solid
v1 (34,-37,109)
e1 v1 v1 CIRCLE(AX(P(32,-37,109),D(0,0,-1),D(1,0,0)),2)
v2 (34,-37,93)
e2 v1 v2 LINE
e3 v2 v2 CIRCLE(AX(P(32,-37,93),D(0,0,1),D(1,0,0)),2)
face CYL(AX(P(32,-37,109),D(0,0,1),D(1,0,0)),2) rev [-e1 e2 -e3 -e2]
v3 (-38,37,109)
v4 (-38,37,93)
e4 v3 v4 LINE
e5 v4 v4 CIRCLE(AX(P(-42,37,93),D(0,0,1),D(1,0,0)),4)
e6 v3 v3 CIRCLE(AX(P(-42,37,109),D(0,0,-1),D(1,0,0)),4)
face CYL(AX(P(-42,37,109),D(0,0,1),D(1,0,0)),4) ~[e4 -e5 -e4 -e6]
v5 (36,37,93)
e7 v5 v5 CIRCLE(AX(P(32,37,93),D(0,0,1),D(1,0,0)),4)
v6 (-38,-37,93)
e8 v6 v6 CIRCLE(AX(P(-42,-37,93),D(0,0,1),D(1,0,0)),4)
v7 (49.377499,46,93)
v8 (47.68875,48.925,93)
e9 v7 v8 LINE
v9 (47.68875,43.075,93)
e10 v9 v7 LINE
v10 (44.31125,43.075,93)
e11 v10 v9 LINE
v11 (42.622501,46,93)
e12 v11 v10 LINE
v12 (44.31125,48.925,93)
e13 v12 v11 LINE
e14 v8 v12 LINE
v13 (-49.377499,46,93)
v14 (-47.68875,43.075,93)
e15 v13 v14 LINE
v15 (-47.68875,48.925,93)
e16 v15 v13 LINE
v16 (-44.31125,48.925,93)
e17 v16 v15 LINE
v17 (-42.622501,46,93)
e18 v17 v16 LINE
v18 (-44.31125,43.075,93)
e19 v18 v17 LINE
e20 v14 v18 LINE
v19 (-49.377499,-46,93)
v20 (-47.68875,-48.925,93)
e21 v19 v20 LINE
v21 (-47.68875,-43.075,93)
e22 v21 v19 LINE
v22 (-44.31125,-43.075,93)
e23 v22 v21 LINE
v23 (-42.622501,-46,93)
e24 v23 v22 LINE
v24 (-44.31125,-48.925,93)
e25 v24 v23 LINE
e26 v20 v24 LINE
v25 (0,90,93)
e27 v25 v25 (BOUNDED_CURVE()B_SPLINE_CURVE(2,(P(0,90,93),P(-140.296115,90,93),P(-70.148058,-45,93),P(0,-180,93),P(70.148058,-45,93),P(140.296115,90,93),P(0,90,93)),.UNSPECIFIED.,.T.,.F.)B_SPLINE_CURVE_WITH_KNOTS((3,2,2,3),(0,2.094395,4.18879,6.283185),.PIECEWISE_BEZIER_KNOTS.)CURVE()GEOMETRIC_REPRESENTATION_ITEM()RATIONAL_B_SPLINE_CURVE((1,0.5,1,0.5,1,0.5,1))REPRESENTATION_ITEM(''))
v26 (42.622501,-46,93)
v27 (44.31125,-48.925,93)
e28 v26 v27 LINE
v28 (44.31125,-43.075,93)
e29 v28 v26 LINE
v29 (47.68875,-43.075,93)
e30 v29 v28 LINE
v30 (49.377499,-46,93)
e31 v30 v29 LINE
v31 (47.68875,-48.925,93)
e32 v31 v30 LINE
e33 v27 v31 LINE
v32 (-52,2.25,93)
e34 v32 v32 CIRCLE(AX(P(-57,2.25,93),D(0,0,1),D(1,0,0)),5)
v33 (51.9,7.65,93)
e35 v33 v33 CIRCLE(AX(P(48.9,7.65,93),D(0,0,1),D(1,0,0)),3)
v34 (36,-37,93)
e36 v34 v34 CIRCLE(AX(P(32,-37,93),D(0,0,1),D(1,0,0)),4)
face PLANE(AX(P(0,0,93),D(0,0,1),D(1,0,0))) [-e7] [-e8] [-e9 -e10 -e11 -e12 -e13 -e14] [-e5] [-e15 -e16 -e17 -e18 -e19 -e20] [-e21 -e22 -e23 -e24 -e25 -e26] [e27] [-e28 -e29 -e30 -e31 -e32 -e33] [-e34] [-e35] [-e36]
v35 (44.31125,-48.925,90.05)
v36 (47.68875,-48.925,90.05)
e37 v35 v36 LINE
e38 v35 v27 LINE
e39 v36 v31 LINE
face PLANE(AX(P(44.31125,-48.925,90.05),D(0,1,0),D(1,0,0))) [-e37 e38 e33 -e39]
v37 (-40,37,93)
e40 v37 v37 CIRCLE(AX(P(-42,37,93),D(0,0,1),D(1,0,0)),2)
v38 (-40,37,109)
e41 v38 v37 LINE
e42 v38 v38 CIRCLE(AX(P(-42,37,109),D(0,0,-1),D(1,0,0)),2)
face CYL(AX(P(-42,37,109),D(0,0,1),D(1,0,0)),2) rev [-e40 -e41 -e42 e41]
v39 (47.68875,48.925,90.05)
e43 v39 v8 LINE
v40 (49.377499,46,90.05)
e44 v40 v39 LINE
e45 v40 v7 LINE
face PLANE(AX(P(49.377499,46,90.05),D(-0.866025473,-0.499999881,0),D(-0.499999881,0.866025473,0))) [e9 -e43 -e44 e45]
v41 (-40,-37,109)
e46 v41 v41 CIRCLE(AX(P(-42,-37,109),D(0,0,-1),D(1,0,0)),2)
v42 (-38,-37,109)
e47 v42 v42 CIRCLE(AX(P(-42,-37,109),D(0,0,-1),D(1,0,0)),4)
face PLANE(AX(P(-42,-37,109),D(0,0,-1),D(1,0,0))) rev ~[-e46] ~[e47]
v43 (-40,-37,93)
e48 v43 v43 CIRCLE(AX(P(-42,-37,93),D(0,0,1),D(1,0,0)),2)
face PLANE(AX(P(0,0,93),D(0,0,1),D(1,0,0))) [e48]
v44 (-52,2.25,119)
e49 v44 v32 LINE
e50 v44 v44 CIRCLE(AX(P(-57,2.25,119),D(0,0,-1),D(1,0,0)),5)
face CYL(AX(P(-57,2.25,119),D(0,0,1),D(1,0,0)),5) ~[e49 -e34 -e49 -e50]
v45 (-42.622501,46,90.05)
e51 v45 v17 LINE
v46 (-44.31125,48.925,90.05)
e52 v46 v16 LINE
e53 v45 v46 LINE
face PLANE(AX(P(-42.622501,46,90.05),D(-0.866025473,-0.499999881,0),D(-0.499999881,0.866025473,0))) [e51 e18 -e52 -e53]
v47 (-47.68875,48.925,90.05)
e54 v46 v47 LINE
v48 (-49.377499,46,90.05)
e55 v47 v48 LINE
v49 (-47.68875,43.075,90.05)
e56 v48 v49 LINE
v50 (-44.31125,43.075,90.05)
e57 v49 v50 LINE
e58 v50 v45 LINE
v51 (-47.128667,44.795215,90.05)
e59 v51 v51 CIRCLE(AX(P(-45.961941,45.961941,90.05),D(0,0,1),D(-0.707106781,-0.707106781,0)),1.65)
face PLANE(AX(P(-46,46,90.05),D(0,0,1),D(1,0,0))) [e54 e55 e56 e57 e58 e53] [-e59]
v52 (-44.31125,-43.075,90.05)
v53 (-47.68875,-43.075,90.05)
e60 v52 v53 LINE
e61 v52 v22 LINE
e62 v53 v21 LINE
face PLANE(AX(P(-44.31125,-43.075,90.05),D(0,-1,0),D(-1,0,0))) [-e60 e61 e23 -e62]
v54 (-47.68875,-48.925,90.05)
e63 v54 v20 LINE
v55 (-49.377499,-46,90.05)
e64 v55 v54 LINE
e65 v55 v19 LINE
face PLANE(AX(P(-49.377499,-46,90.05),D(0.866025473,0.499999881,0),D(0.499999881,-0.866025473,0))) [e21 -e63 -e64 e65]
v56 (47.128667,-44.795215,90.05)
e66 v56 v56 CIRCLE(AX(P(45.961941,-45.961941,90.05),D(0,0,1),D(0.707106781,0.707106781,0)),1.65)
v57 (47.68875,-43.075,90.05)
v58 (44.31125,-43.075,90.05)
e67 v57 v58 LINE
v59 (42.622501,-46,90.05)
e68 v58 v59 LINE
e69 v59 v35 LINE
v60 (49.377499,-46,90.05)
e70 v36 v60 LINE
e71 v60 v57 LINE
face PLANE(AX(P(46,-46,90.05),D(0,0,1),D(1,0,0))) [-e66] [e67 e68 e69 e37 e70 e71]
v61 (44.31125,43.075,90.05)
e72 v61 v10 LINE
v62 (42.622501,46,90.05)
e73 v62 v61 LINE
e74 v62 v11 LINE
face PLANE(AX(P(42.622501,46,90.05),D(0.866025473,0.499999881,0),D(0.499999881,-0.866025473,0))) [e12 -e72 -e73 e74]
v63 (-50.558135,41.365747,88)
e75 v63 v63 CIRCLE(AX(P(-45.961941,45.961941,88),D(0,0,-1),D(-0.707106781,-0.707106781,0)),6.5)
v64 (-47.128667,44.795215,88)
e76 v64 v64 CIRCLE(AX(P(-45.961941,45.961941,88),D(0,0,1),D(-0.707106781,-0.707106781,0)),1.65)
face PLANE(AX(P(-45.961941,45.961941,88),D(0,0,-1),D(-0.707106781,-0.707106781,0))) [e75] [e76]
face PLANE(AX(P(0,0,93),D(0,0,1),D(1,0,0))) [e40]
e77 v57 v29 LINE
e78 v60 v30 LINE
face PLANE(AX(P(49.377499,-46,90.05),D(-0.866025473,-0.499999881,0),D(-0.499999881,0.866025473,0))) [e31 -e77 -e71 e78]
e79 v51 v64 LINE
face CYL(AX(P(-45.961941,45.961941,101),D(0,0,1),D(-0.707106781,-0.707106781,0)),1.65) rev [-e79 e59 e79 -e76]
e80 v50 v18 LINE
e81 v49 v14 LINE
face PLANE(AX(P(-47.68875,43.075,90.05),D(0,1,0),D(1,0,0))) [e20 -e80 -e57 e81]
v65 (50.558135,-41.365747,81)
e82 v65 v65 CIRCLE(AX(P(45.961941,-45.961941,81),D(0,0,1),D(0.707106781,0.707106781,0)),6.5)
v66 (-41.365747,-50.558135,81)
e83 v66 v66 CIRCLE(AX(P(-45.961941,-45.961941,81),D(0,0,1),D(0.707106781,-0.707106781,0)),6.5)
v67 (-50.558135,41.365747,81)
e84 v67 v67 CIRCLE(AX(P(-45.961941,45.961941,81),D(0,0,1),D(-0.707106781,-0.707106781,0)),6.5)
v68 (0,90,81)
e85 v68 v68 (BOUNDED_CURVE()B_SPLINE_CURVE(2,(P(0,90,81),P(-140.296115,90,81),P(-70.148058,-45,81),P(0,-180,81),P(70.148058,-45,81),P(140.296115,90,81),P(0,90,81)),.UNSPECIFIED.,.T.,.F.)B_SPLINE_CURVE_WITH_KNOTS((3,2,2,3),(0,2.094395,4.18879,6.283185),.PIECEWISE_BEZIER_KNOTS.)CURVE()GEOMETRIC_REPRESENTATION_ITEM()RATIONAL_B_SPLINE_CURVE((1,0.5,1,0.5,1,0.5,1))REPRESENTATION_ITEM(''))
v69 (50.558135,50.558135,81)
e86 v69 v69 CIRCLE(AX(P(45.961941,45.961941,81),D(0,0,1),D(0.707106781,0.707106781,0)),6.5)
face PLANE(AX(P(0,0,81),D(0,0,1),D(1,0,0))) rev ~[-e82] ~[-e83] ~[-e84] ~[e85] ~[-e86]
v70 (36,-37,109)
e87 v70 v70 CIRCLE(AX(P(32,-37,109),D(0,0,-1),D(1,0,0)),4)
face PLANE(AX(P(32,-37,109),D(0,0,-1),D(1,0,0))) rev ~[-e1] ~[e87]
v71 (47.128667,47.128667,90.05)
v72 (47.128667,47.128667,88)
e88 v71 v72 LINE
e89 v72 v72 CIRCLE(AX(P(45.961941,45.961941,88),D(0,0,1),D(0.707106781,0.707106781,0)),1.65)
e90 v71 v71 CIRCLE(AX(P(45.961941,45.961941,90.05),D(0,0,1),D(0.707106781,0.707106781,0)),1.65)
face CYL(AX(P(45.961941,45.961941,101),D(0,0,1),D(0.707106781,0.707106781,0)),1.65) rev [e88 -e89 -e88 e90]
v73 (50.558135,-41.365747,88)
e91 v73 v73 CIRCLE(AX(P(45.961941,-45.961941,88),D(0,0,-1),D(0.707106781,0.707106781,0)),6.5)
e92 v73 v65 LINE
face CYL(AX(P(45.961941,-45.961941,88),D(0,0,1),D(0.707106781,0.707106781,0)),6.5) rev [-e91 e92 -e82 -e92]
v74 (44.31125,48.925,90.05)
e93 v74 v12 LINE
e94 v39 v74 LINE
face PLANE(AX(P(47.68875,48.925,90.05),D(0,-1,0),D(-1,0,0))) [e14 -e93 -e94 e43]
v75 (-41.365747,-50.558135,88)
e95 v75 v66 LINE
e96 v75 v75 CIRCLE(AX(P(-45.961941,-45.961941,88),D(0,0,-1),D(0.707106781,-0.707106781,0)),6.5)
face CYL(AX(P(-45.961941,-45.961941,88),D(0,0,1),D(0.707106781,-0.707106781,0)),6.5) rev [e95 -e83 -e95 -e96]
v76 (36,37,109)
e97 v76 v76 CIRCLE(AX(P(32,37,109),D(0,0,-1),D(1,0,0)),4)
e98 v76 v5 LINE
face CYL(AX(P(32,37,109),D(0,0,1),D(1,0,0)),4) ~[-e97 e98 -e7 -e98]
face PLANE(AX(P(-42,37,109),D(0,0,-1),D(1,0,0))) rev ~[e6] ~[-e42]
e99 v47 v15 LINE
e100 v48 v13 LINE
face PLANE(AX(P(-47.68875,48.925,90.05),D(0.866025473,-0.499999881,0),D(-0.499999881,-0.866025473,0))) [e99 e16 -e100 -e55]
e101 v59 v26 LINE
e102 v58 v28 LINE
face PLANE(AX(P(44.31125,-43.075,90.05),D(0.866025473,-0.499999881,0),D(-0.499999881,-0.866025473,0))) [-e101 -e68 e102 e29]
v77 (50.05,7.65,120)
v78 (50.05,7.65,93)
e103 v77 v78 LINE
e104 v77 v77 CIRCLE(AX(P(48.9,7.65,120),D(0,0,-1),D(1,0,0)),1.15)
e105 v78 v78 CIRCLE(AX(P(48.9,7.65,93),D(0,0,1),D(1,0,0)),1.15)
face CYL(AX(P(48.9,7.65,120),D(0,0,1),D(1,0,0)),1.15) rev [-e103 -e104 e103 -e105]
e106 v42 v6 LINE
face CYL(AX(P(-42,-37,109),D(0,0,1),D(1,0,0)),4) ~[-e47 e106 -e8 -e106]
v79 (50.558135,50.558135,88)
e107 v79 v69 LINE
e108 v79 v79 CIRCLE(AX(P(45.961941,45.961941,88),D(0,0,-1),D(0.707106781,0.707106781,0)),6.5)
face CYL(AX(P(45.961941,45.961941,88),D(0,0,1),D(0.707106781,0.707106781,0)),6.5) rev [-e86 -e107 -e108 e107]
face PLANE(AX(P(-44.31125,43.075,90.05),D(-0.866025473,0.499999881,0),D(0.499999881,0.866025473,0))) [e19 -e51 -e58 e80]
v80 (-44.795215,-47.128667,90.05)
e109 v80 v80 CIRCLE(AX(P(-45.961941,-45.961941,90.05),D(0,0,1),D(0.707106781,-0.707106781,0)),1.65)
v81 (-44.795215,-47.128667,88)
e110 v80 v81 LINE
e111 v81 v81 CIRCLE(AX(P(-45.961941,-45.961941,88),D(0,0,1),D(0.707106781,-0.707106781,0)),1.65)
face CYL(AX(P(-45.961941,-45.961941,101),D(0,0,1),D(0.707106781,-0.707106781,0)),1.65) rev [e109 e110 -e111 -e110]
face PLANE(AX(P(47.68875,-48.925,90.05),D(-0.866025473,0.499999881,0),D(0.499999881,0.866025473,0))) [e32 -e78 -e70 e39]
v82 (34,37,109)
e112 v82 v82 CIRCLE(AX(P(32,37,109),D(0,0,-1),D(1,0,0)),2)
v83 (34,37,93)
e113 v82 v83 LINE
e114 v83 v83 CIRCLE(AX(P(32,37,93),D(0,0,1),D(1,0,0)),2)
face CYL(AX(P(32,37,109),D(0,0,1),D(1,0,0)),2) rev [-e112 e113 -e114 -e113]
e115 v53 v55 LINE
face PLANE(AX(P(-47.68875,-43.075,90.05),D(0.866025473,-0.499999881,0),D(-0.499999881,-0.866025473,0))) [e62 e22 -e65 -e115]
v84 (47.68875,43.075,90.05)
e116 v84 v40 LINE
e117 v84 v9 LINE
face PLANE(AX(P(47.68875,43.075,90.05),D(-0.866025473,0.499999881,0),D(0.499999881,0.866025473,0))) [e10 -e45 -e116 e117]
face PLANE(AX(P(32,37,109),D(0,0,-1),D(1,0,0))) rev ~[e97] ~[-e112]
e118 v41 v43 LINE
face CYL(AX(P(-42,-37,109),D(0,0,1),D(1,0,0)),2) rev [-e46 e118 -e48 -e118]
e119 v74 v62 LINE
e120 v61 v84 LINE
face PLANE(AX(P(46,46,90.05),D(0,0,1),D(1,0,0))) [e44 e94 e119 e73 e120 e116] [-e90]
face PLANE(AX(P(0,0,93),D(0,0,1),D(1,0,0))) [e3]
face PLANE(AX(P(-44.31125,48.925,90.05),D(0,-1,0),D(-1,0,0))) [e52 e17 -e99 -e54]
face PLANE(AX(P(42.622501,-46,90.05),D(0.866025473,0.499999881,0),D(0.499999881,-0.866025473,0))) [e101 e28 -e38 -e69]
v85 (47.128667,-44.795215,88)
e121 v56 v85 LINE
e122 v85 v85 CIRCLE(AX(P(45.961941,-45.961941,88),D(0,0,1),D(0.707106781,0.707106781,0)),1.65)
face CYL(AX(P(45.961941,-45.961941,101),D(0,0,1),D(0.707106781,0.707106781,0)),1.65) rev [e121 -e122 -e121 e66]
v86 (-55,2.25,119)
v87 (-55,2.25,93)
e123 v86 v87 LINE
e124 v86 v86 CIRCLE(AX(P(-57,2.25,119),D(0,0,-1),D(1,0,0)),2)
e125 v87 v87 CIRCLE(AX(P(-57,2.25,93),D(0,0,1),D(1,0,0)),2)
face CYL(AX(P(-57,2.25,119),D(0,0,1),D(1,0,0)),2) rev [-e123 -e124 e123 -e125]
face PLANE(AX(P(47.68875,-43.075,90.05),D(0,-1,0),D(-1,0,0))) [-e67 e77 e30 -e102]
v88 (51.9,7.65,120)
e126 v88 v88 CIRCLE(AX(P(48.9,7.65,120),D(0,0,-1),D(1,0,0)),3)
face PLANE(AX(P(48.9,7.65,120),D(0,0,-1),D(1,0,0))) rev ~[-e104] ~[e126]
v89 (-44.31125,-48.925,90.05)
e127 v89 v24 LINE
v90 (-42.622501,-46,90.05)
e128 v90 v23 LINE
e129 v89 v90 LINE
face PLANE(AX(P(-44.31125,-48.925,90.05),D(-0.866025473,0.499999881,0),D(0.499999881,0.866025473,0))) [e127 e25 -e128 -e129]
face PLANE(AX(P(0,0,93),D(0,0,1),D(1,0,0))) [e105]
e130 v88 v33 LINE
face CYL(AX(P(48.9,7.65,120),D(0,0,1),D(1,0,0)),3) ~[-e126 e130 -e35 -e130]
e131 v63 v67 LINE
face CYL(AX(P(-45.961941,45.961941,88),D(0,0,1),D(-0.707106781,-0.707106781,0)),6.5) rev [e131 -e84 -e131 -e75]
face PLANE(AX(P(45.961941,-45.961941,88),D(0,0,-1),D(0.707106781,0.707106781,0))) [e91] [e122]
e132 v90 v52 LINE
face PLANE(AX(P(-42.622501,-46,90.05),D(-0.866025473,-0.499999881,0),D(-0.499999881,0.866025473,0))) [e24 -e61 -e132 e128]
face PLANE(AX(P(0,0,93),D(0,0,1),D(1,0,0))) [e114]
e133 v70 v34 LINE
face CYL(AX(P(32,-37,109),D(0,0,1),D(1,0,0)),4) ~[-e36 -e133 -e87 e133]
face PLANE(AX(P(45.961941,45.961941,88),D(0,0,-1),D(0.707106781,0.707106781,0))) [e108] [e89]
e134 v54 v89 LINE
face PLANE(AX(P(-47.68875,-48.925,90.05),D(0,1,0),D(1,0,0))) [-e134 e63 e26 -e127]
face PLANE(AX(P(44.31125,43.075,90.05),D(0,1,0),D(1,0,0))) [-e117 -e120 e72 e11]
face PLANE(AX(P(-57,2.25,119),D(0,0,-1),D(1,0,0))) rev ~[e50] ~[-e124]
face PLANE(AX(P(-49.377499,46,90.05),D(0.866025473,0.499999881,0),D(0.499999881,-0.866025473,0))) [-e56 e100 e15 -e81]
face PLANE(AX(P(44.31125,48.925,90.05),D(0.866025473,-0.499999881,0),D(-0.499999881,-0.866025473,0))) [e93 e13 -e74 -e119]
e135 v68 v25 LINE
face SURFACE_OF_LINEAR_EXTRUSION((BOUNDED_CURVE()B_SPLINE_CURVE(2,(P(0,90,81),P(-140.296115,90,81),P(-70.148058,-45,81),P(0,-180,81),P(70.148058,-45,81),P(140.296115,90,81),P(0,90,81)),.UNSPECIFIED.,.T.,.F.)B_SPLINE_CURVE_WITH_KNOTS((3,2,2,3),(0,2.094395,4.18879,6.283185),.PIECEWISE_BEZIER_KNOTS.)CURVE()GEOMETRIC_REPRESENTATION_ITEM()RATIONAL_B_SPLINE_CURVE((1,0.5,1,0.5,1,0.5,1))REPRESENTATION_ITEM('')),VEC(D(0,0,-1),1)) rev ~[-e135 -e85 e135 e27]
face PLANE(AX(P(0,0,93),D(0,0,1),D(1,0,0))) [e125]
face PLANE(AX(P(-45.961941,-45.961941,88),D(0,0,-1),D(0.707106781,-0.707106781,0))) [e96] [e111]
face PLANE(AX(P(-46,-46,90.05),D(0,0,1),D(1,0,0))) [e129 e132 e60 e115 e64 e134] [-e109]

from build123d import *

# Parameters (mm, degrees)
EXTRUDE010_DEPTH            = 2.95
CYLINDER026_R               = 6.5
CYLINDER026_DEPTH           = 12.5
CYLINDER026_ROLL_ANGLE      = 90
CYLINDER026_PITCH_ANGLE     = -45
CYLINDER027_R               = 6.5
CYLINDER027_DEPTH           = 12.5
CYLINDER027_ROLL_ANGLE      = 90
CYLINDER027_PITCH_ANGLE     = 45
CYLINDER028_R               = 6.5
CYLINDER028_DEPTH           = 12.5
CYLINDER028_ROLL_ANGLE      = -90
CYLINDER028_PITCH_ANGLE     = -45
CYLINDER028_PLACEMENT_ANGLE = 180
CYLINDER025_R               = 6.5
CYLINDER025_DEPTH           = 12.5
CYLINDER025_ROLL_ANGLE      = 90
CYLINDER025_PITCH_ANGLE     = 45
FUSION191_PLACEMENT_ANGLE   = 90
CYLINDER022_R               = 1.65
CYLINDER022_DEPTH           = 20
CYLINDER022_ROLL_ANGLE      = 90
CYLINDER022_PITCH_ANGLE     = -45
CYLINDER023_R               = 1.65
CYLINDER023_DEPTH           = 20
CYLINDER023_ROLL_ANGLE      = 90
CYLINDER023_PITCH_ANGLE     = 45
CYLINDER024_R               = 1.65
CYLINDER024_DEPTH           = 20
CYLINDER024_ROLL_ANGLE      = -90
CYLINDER024_PITCH_ANGLE     = -45
CYLINDER024_PLACEMENT_ANGLE = 180
CYLINDER021_R               = 1.65
CYLINDER021_DEPTH           = 20
CYLINDER021_ROLL_ANGLE      = 90
CYLINDER021_PITCH_ANGLE     = 45
FUSION190_PLACEMENT_ANGLE   = 90
TUBE012_R                   = 5
TUBE012_R_2                 = 2
TUBE012_DEPTH               = 29
TUBE013_R                   = 3
TUBE013_R_2                 = 1.15
TUBE013_DEPTH               = 30
TUBE009_R                   = 4
TUBE009_R_2                 = 2
TUBE009_DEPTH               = 19
TUBE010_R                   = 4
TUBE010_R_2                 = 2
TUBE010_DEPTH               = 19
TUBE011_R                   = 4
TUBE011_R_2                 = 2
TUBE011_DEPTH               = 19
TUBE008_R                   = 4
TUBE008_R_2                 = 2
TUBE008_DEPTH               = 19
COMPOUND_PLACEMENT_ANGLE    = 270
EXTRUDE003_DEPTH            = 12


with BuildPart() as m3nytcut:
    # Sketch010 (on Fillet) → Extrude010 (new body)
    with BuildSketch(Plane.XY):
        Polygon((-44.31125, 43.075), (-42.622501, 46), (-44.31125, 48.925), (-47.68875, 48.925), (-49.377499, 46), (-47.68875, 43.075), align=None)
        Polygon((47.68875, 43.075), (49.377499, 46), (47.68875, 48.925), (44.31125, 48.925), (42.622501, 46), (44.31125, 43.075), align=None)
        Polygon((47.68875, -48.925), (49.377499, -46), (47.68875, -43.075), (44.31125, -43.075), (42.622501, -46), (44.31125, -48.925), align=None)
        Polygon((-44.31125, -48.925), (-42.622501, -46), (-44.31125, -43.075), (-47.68875, -43.075), (-49.377499, -46), (-47.68875, -48.925), align=None)
    extrude(amount=EXTRUDE010_DEPTH)


with BuildPart() as m3nytcut_1:
    # Extrude010 placement: moved
    add(m3nytcut.part.moved(Location((0, 0, 90.05))))


with BuildPart() as cylinder026:
    # Cylinder026 → Cylinder026 (new body)
    with BuildSketch(Plane.XY):
        Circle(CYLINDER026_R)
    extrude(amount=CYLINDER026_DEPTH)


with BuildPart() as cylinder026_1:
    # Cylinder026 roll: moved
    add(cylinder026.part.rotate(Axis((0, 0, 0), (1, 0, 0)), CYLINDER026_ROLL_ANGLE))


with BuildPart() as cylinder026_2:
    # Cylinder026 pitch: moved
    add(cylinder026_1.part.rotate(Axis((0, 0, 0), (0, 1, 0)), CYLINDER026_PITCH_ANGLE))


with BuildPart() as cylinder026_3:
    # Cylinder026 placement: moved
    add(cylinder026_2.part.moved(Location((-45.961941, 57, 45.961941))))


with BuildPart() as cylinder027:
    # Cylinder027 → Cylinder027 (new body)
    with BuildSketch(Plane.XY):
        Circle(CYLINDER027_R)
    extrude(amount=CYLINDER027_DEPTH)


with BuildPart() as cylinder027_1:
    # Cylinder027 roll: moved
    add(cylinder027.part.rotate(Axis((0, 0, 0), (1, 0, 0)), CYLINDER027_ROLL_ANGLE))


with BuildPart() as cylinder027_2:
    # Cylinder027 pitch: moved
    add(cylinder027_1.part.rotate(Axis((0, 0, 0), (0, 1, 0)), CYLINDER027_PITCH_ANGLE))


with BuildPart() as cylinder027_3:
    # Cylinder027 placement: moved
    add(cylinder027_2.part.moved(Location((45.961941, 57, -45.961941))))


with BuildPart() as cylinder028:
    # Cylinder028 → Cylinder028 (new body)
    with BuildSketch(Plane.XY):
        Circle(CYLINDER028_R)
    extrude(amount=CYLINDER028_DEPTH)


with BuildPart() as cylinder028_1:
    # Cylinder028 roll: moved
    add(cylinder028.part.rotate(Axis((0, 0, 0), (1, 0, 0)), CYLINDER028_ROLL_ANGLE))


with BuildPart() as cylinder028_2:
    # Cylinder028 pitch: moved
    add(cylinder028_1.part.rotate(Axis((0, 0, 0), (0, 1, 0)), CYLINDER028_PITCH_ANGLE))


with BuildPart() as cylinder028_3:
    # Cylinder028 placement: moved
    add(cylinder028_2.part.moved(Location((-45.961941, 57, -45.961941))).rotate(Axis((-45.961941, 57, -45.961941), (0, 0, 1)), CYLINDER028_PLACEMENT_ANGLE))


with BuildPart() as m3head001:
    # Cylinder025 → Cylinder025 (new body)
    with BuildSketch(Plane.XY):
        Circle(CYLINDER025_R)
    extrude(amount=CYLINDER025_DEPTH)


with BuildPart() as m3head001_1:
    # Cylinder025 roll: moved
    add(m3head001.part.rotate(Axis((0, 0, 0), (1, 0, 0)), CYLINDER025_ROLL_ANGLE))


with BuildPart() as m3head001_2:
    # Cylinder025 pitch: moved
    add(m3head001_1.part.rotate(Axis((0, 0, 0), (0, 1, 0)), CYLINDER025_PITCH_ANGLE))


with BuildPart() as m3head001_3:
    # Cylinder025 placement: moved
    add(m3head001_2.part.moved(Location((45.961941, 57, 45.961941))))

    # Fusion191: union Cylinder026, Cylinder027, Cylinder028
    add(cylinder026_3.part)
    add(cylinder027_3.part)
    add(cylinder028_3.part)


with BuildPart() as m3head001_4:
    # Fusion191 placement: moved
    add(m3head001_3.part.moved(Location((0, 0, 23))).rotate(Axis((0, 0, 23), (1, 0, 0)), FUSION191_PLACEMENT_ANGLE))


with BuildPart() as cylinder022:
    # Cylinder022 → Cylinder022 (new body)
    with BuildSketch(Plane.XY):
        Circle(CYLINDER022_R)
    extrude(amount=CYLINDER022_DEPTH)


with BuildPart() as cylinder022_1:
    # Cylinder022 roll: moved
    add(cylinder022.part.rotate(Axis((0, 0, 0), (1, 0, 0)), CYLINDER022_ROLL_ANGLE))


with BuildPart() as cylinder022_2:
    # Cylinder022 pitch: moved
    add(cylinder022_1.part.rotate(Axis((0, 0, 0), (0, 1, 0)), CYLINDER022_PITCH_ANGLE))


with BuildPart() as cylinder022_3:
    # Cylinder022 placement: moved
    add(cylinder022_2.part.moved(Location((-45.961941, 57, 45.961941))))


with BuildPart() as cylinder023:
    # Cylinder023 → Cylinder023 (new body)
    with BuildSketch(Plane.XY):
        Circle(CYLINDER023_R)
    extrude(amount=CYLINDER023_DEPTH)


with BuildPart() as cylinder023_1:
    # Cylinder023 roll: moved
    add(cylinder023.part.rotate(Axis((0, 0, 0), (1, 0, 0)), CYLINDER023_ROLL_ANGLE))


with BuildPart() as cylinder023_2:
    # Cylinder023 pitch: moved
    add(cylinder023_1.part.rotate(Axis((0, 0, 0), (0, 1, 0)), CYLINDER023_PITCH_ANGLE))


with BuildPart() as cylinder023_3:
    # Cylinder023 placement: moved
    add(cylinder023_2.part.moved(Location((45.961941, 57, -45.961941))))


with BuildPart() as cylinder024:
    # Cylinder024 → Cylinder024 (new body)
    with BuildSketch(Plane.XY):
        Circle(CYLINDER024_R)
    extrude(amount=CYLINDER024_DEPTH)


with BuildPart() as cylinder024_1:
    # Cylinder024 roll: moved
    add(cylinder024.part.rotate(Axis((0, 0, 0), (1, 0, 0)), CYLINDER024_ROLL_ANGLE))


with BuildPart() as cylinder024_2:
    # Cylinder024 pitch: moved
    add(cylinder024_1.part.rotate(Axis((0, 0, 0), (0, 1, 0)), CYLINDER024_PITCH_ANGLE))


with BuildPart() as cylinder024_3:
    # Cylinder024 placement: moved
    add(cylinder024_2.part.moved(Location((-45.961941, 57, -45.961941))).rotate(Axis((-45.961941, 57, -45.961941), (0, 0, 1)), CYLINDER024_PLACEMENT_ANGLE))


with BuildPart() as topbasem3:
    # Cylinder021 → Cylinder021 (new body)
    with BuildSketch(Plane.XY):
        Circle(CYLINDER021_R)
    extrude(amount=CYLINDER021_DEPTH)


with BuildPart() as topbasem3_1:
    # Cylinder021 roll: moved
    add(topbasem3.part.rotate(Axis((0, 0, 0), (1, 0, 0)), CYLINDER021_ROLL_ANGLE))


with BuildPart() as topbasem3_2:
    # Cylinder021 pitch: moved
    add(topbasem3_1.part.rotate(Axis((0, 0, 0), (0, 1, 0)), CYLINDER021_PITCH_ANGLE))


with BuildPart() as topbasem3_3:
    # Cylinder021 placement: moved
    add(topbasem3_2.part.moved(Location((45.961941, 57, 45.961941))))

    # Fusion190: union Cylinder022, Cylinder023, Cylinder024
    add(cylinder022_3.part)
    add(cylinder023_3.part)
    add(cylinder024_3.part)


with BuildPart() as topbasem3_4:
    # Fusion190 placement: moved
    add(topbasem3_3.part.moved(Location((0, 0, 36))).rotate(Axis((0, 0, 36), (1, 0, 0)), FUSION190_PLACEMENT_ANGLE))

    # Fusion192: union m3Head001
    add(m3head001_4.part)


with BuildPart() as topbasem3_5:
    # Fusion192 placement: moved
    add(topbasem3_4.part.moved(Location((0, 0, 8))))


with BuildPart() as m3_cozir:
    # Tube012 → Tube012 (new body)
    with BuildSketch(Plane(origin=(-52, 9, 2.25), x_dir=(1, 0, 0), z_dir=(0, 1, 0))):
        Circle(TUBE012_R)
        Circle(TUBE012_R_2, mode=Mode.SUBTRACT)
    extrude(amount=TUBE012_DEPTH)


with BuildPart() as m2_ips7100:
    # Tube013 → Tube013 (new body)
    with BuildSketch(Plane(origin=(53.9, 8, 7.65), x_dir=(1, 0, 0), z_dir=(0, 1, 0))):
        Circle(TUBE013_R)
        Circle(TUBE013_R_2, mode=Mode.SUBTRACT)
    extrude(amount=TUBE013_DEPTH)


with BuildPart() as tube009:
    # Tube009 → Tube009 (new body)
    with BuildSketch(Plane(origin=(-37, 19, 37), x_dir=(1, 0, 0), z_dir=(0, 1, 0))):
        Circle(TUBE009_R)
        Circle(TUBE009_R_2, mode=Mode.SUBTRACT)
    extrude(amount=TUBE009_DEPTH)


with BuildPart() as tube010:
    # Tube010 → Tube010 (new body)
    with BuildSketch(Plane(origin=(37, 19, 37), x_dir=(1, 0, 0), z_dir=(0, 1, 0))):
        Circle(TUBE010_R)
        Circle(TUBE010_R_2, mode=Mode.SUBTRACT)
    extrude(amount=TUBE010_DEPTH)


with BuildPart() as tube011:
    # Tube011 → Tube011 (new body)
    with BuildSketch(Plane(origin=(37, 19, -37), x_dir=(1, 0, 0), z_dir=(0, 1, 0))):
        Circle(TUBE011_R)
        Circle(TUBE011_R_2, mode=Mode.SUBTRACT)
    extrude(amount=TUBE011_DEPTH)


with BuildPart() as m3m2cyl:
    # Tube008 → Tube008 (new body)
    with BuildSketch(Plane(origin=(-37, 19, -37), x_dir=(1, 0, 0), z_dir=(0, 1, 0))):
        Circle(TUBE008_R)
        Circle(TUBE008_R_2, mode=Mode.SUBTRACT)
    extrude(amount=TUBE008_DEPTH)

    # Fusion003: union Tube009, Tube010, Tube011
    add(tube009.part)
    add(tube010.part)
    add(tube011.part)

    # Compound: union m3_Cozir, m2_IPS7100
    add(m3_cozir.part)
    add(m2_ips7100.part)


with BuildPart() as m3m2cyl_1:
    # Compound placement: moved
    add(m3m2cyl.part.moved(Location((-5, 0, 128))).rotate(Axis((-5, 0, 128), (1, 0, 0)), COMPOUND_PLACEMENT_ANGLE))


with BuildPart() as cut009:
    # Sketch003 → Extrude003 (new body)
    with BuildSketch(Plane.XY):
        with BuildLine():
            add(Edge.make_bspline(
                [(0, 90), (-140.296115, 90), (-70.148058, -45), (0, -180), (70.148058, -45), (140.296115, 90), (0, 90)],
                knots=[0, 0, 0, 2.094395, 2.094395, 4.18879, 4.18879, 6.283185, 6.283185, 6.283185], degree=2, weights=[1, 0.5, 1, 0.5, 1, 0.5, 1]))
        make_face()
    extrude(amount=EXTRUDE003_DEPTH)


with BuildPart() as cut009_1:
    # Extrude003 placement: moved
    add(cut009.part.moved(Location((0, 0, 81))))

    # Fusion186: union m3m2Cyl
    add(m3m2cyl_1.part)

    # Cut008: cut topBasem3
    add(topbasem3_5.part, mode=Mode.SUBTRACT)

    # Cut009: cut m3nytcut
    add(m3nytcut_1.part, mode=Mode.SUBTRACT)


solid = cut009_1.part
